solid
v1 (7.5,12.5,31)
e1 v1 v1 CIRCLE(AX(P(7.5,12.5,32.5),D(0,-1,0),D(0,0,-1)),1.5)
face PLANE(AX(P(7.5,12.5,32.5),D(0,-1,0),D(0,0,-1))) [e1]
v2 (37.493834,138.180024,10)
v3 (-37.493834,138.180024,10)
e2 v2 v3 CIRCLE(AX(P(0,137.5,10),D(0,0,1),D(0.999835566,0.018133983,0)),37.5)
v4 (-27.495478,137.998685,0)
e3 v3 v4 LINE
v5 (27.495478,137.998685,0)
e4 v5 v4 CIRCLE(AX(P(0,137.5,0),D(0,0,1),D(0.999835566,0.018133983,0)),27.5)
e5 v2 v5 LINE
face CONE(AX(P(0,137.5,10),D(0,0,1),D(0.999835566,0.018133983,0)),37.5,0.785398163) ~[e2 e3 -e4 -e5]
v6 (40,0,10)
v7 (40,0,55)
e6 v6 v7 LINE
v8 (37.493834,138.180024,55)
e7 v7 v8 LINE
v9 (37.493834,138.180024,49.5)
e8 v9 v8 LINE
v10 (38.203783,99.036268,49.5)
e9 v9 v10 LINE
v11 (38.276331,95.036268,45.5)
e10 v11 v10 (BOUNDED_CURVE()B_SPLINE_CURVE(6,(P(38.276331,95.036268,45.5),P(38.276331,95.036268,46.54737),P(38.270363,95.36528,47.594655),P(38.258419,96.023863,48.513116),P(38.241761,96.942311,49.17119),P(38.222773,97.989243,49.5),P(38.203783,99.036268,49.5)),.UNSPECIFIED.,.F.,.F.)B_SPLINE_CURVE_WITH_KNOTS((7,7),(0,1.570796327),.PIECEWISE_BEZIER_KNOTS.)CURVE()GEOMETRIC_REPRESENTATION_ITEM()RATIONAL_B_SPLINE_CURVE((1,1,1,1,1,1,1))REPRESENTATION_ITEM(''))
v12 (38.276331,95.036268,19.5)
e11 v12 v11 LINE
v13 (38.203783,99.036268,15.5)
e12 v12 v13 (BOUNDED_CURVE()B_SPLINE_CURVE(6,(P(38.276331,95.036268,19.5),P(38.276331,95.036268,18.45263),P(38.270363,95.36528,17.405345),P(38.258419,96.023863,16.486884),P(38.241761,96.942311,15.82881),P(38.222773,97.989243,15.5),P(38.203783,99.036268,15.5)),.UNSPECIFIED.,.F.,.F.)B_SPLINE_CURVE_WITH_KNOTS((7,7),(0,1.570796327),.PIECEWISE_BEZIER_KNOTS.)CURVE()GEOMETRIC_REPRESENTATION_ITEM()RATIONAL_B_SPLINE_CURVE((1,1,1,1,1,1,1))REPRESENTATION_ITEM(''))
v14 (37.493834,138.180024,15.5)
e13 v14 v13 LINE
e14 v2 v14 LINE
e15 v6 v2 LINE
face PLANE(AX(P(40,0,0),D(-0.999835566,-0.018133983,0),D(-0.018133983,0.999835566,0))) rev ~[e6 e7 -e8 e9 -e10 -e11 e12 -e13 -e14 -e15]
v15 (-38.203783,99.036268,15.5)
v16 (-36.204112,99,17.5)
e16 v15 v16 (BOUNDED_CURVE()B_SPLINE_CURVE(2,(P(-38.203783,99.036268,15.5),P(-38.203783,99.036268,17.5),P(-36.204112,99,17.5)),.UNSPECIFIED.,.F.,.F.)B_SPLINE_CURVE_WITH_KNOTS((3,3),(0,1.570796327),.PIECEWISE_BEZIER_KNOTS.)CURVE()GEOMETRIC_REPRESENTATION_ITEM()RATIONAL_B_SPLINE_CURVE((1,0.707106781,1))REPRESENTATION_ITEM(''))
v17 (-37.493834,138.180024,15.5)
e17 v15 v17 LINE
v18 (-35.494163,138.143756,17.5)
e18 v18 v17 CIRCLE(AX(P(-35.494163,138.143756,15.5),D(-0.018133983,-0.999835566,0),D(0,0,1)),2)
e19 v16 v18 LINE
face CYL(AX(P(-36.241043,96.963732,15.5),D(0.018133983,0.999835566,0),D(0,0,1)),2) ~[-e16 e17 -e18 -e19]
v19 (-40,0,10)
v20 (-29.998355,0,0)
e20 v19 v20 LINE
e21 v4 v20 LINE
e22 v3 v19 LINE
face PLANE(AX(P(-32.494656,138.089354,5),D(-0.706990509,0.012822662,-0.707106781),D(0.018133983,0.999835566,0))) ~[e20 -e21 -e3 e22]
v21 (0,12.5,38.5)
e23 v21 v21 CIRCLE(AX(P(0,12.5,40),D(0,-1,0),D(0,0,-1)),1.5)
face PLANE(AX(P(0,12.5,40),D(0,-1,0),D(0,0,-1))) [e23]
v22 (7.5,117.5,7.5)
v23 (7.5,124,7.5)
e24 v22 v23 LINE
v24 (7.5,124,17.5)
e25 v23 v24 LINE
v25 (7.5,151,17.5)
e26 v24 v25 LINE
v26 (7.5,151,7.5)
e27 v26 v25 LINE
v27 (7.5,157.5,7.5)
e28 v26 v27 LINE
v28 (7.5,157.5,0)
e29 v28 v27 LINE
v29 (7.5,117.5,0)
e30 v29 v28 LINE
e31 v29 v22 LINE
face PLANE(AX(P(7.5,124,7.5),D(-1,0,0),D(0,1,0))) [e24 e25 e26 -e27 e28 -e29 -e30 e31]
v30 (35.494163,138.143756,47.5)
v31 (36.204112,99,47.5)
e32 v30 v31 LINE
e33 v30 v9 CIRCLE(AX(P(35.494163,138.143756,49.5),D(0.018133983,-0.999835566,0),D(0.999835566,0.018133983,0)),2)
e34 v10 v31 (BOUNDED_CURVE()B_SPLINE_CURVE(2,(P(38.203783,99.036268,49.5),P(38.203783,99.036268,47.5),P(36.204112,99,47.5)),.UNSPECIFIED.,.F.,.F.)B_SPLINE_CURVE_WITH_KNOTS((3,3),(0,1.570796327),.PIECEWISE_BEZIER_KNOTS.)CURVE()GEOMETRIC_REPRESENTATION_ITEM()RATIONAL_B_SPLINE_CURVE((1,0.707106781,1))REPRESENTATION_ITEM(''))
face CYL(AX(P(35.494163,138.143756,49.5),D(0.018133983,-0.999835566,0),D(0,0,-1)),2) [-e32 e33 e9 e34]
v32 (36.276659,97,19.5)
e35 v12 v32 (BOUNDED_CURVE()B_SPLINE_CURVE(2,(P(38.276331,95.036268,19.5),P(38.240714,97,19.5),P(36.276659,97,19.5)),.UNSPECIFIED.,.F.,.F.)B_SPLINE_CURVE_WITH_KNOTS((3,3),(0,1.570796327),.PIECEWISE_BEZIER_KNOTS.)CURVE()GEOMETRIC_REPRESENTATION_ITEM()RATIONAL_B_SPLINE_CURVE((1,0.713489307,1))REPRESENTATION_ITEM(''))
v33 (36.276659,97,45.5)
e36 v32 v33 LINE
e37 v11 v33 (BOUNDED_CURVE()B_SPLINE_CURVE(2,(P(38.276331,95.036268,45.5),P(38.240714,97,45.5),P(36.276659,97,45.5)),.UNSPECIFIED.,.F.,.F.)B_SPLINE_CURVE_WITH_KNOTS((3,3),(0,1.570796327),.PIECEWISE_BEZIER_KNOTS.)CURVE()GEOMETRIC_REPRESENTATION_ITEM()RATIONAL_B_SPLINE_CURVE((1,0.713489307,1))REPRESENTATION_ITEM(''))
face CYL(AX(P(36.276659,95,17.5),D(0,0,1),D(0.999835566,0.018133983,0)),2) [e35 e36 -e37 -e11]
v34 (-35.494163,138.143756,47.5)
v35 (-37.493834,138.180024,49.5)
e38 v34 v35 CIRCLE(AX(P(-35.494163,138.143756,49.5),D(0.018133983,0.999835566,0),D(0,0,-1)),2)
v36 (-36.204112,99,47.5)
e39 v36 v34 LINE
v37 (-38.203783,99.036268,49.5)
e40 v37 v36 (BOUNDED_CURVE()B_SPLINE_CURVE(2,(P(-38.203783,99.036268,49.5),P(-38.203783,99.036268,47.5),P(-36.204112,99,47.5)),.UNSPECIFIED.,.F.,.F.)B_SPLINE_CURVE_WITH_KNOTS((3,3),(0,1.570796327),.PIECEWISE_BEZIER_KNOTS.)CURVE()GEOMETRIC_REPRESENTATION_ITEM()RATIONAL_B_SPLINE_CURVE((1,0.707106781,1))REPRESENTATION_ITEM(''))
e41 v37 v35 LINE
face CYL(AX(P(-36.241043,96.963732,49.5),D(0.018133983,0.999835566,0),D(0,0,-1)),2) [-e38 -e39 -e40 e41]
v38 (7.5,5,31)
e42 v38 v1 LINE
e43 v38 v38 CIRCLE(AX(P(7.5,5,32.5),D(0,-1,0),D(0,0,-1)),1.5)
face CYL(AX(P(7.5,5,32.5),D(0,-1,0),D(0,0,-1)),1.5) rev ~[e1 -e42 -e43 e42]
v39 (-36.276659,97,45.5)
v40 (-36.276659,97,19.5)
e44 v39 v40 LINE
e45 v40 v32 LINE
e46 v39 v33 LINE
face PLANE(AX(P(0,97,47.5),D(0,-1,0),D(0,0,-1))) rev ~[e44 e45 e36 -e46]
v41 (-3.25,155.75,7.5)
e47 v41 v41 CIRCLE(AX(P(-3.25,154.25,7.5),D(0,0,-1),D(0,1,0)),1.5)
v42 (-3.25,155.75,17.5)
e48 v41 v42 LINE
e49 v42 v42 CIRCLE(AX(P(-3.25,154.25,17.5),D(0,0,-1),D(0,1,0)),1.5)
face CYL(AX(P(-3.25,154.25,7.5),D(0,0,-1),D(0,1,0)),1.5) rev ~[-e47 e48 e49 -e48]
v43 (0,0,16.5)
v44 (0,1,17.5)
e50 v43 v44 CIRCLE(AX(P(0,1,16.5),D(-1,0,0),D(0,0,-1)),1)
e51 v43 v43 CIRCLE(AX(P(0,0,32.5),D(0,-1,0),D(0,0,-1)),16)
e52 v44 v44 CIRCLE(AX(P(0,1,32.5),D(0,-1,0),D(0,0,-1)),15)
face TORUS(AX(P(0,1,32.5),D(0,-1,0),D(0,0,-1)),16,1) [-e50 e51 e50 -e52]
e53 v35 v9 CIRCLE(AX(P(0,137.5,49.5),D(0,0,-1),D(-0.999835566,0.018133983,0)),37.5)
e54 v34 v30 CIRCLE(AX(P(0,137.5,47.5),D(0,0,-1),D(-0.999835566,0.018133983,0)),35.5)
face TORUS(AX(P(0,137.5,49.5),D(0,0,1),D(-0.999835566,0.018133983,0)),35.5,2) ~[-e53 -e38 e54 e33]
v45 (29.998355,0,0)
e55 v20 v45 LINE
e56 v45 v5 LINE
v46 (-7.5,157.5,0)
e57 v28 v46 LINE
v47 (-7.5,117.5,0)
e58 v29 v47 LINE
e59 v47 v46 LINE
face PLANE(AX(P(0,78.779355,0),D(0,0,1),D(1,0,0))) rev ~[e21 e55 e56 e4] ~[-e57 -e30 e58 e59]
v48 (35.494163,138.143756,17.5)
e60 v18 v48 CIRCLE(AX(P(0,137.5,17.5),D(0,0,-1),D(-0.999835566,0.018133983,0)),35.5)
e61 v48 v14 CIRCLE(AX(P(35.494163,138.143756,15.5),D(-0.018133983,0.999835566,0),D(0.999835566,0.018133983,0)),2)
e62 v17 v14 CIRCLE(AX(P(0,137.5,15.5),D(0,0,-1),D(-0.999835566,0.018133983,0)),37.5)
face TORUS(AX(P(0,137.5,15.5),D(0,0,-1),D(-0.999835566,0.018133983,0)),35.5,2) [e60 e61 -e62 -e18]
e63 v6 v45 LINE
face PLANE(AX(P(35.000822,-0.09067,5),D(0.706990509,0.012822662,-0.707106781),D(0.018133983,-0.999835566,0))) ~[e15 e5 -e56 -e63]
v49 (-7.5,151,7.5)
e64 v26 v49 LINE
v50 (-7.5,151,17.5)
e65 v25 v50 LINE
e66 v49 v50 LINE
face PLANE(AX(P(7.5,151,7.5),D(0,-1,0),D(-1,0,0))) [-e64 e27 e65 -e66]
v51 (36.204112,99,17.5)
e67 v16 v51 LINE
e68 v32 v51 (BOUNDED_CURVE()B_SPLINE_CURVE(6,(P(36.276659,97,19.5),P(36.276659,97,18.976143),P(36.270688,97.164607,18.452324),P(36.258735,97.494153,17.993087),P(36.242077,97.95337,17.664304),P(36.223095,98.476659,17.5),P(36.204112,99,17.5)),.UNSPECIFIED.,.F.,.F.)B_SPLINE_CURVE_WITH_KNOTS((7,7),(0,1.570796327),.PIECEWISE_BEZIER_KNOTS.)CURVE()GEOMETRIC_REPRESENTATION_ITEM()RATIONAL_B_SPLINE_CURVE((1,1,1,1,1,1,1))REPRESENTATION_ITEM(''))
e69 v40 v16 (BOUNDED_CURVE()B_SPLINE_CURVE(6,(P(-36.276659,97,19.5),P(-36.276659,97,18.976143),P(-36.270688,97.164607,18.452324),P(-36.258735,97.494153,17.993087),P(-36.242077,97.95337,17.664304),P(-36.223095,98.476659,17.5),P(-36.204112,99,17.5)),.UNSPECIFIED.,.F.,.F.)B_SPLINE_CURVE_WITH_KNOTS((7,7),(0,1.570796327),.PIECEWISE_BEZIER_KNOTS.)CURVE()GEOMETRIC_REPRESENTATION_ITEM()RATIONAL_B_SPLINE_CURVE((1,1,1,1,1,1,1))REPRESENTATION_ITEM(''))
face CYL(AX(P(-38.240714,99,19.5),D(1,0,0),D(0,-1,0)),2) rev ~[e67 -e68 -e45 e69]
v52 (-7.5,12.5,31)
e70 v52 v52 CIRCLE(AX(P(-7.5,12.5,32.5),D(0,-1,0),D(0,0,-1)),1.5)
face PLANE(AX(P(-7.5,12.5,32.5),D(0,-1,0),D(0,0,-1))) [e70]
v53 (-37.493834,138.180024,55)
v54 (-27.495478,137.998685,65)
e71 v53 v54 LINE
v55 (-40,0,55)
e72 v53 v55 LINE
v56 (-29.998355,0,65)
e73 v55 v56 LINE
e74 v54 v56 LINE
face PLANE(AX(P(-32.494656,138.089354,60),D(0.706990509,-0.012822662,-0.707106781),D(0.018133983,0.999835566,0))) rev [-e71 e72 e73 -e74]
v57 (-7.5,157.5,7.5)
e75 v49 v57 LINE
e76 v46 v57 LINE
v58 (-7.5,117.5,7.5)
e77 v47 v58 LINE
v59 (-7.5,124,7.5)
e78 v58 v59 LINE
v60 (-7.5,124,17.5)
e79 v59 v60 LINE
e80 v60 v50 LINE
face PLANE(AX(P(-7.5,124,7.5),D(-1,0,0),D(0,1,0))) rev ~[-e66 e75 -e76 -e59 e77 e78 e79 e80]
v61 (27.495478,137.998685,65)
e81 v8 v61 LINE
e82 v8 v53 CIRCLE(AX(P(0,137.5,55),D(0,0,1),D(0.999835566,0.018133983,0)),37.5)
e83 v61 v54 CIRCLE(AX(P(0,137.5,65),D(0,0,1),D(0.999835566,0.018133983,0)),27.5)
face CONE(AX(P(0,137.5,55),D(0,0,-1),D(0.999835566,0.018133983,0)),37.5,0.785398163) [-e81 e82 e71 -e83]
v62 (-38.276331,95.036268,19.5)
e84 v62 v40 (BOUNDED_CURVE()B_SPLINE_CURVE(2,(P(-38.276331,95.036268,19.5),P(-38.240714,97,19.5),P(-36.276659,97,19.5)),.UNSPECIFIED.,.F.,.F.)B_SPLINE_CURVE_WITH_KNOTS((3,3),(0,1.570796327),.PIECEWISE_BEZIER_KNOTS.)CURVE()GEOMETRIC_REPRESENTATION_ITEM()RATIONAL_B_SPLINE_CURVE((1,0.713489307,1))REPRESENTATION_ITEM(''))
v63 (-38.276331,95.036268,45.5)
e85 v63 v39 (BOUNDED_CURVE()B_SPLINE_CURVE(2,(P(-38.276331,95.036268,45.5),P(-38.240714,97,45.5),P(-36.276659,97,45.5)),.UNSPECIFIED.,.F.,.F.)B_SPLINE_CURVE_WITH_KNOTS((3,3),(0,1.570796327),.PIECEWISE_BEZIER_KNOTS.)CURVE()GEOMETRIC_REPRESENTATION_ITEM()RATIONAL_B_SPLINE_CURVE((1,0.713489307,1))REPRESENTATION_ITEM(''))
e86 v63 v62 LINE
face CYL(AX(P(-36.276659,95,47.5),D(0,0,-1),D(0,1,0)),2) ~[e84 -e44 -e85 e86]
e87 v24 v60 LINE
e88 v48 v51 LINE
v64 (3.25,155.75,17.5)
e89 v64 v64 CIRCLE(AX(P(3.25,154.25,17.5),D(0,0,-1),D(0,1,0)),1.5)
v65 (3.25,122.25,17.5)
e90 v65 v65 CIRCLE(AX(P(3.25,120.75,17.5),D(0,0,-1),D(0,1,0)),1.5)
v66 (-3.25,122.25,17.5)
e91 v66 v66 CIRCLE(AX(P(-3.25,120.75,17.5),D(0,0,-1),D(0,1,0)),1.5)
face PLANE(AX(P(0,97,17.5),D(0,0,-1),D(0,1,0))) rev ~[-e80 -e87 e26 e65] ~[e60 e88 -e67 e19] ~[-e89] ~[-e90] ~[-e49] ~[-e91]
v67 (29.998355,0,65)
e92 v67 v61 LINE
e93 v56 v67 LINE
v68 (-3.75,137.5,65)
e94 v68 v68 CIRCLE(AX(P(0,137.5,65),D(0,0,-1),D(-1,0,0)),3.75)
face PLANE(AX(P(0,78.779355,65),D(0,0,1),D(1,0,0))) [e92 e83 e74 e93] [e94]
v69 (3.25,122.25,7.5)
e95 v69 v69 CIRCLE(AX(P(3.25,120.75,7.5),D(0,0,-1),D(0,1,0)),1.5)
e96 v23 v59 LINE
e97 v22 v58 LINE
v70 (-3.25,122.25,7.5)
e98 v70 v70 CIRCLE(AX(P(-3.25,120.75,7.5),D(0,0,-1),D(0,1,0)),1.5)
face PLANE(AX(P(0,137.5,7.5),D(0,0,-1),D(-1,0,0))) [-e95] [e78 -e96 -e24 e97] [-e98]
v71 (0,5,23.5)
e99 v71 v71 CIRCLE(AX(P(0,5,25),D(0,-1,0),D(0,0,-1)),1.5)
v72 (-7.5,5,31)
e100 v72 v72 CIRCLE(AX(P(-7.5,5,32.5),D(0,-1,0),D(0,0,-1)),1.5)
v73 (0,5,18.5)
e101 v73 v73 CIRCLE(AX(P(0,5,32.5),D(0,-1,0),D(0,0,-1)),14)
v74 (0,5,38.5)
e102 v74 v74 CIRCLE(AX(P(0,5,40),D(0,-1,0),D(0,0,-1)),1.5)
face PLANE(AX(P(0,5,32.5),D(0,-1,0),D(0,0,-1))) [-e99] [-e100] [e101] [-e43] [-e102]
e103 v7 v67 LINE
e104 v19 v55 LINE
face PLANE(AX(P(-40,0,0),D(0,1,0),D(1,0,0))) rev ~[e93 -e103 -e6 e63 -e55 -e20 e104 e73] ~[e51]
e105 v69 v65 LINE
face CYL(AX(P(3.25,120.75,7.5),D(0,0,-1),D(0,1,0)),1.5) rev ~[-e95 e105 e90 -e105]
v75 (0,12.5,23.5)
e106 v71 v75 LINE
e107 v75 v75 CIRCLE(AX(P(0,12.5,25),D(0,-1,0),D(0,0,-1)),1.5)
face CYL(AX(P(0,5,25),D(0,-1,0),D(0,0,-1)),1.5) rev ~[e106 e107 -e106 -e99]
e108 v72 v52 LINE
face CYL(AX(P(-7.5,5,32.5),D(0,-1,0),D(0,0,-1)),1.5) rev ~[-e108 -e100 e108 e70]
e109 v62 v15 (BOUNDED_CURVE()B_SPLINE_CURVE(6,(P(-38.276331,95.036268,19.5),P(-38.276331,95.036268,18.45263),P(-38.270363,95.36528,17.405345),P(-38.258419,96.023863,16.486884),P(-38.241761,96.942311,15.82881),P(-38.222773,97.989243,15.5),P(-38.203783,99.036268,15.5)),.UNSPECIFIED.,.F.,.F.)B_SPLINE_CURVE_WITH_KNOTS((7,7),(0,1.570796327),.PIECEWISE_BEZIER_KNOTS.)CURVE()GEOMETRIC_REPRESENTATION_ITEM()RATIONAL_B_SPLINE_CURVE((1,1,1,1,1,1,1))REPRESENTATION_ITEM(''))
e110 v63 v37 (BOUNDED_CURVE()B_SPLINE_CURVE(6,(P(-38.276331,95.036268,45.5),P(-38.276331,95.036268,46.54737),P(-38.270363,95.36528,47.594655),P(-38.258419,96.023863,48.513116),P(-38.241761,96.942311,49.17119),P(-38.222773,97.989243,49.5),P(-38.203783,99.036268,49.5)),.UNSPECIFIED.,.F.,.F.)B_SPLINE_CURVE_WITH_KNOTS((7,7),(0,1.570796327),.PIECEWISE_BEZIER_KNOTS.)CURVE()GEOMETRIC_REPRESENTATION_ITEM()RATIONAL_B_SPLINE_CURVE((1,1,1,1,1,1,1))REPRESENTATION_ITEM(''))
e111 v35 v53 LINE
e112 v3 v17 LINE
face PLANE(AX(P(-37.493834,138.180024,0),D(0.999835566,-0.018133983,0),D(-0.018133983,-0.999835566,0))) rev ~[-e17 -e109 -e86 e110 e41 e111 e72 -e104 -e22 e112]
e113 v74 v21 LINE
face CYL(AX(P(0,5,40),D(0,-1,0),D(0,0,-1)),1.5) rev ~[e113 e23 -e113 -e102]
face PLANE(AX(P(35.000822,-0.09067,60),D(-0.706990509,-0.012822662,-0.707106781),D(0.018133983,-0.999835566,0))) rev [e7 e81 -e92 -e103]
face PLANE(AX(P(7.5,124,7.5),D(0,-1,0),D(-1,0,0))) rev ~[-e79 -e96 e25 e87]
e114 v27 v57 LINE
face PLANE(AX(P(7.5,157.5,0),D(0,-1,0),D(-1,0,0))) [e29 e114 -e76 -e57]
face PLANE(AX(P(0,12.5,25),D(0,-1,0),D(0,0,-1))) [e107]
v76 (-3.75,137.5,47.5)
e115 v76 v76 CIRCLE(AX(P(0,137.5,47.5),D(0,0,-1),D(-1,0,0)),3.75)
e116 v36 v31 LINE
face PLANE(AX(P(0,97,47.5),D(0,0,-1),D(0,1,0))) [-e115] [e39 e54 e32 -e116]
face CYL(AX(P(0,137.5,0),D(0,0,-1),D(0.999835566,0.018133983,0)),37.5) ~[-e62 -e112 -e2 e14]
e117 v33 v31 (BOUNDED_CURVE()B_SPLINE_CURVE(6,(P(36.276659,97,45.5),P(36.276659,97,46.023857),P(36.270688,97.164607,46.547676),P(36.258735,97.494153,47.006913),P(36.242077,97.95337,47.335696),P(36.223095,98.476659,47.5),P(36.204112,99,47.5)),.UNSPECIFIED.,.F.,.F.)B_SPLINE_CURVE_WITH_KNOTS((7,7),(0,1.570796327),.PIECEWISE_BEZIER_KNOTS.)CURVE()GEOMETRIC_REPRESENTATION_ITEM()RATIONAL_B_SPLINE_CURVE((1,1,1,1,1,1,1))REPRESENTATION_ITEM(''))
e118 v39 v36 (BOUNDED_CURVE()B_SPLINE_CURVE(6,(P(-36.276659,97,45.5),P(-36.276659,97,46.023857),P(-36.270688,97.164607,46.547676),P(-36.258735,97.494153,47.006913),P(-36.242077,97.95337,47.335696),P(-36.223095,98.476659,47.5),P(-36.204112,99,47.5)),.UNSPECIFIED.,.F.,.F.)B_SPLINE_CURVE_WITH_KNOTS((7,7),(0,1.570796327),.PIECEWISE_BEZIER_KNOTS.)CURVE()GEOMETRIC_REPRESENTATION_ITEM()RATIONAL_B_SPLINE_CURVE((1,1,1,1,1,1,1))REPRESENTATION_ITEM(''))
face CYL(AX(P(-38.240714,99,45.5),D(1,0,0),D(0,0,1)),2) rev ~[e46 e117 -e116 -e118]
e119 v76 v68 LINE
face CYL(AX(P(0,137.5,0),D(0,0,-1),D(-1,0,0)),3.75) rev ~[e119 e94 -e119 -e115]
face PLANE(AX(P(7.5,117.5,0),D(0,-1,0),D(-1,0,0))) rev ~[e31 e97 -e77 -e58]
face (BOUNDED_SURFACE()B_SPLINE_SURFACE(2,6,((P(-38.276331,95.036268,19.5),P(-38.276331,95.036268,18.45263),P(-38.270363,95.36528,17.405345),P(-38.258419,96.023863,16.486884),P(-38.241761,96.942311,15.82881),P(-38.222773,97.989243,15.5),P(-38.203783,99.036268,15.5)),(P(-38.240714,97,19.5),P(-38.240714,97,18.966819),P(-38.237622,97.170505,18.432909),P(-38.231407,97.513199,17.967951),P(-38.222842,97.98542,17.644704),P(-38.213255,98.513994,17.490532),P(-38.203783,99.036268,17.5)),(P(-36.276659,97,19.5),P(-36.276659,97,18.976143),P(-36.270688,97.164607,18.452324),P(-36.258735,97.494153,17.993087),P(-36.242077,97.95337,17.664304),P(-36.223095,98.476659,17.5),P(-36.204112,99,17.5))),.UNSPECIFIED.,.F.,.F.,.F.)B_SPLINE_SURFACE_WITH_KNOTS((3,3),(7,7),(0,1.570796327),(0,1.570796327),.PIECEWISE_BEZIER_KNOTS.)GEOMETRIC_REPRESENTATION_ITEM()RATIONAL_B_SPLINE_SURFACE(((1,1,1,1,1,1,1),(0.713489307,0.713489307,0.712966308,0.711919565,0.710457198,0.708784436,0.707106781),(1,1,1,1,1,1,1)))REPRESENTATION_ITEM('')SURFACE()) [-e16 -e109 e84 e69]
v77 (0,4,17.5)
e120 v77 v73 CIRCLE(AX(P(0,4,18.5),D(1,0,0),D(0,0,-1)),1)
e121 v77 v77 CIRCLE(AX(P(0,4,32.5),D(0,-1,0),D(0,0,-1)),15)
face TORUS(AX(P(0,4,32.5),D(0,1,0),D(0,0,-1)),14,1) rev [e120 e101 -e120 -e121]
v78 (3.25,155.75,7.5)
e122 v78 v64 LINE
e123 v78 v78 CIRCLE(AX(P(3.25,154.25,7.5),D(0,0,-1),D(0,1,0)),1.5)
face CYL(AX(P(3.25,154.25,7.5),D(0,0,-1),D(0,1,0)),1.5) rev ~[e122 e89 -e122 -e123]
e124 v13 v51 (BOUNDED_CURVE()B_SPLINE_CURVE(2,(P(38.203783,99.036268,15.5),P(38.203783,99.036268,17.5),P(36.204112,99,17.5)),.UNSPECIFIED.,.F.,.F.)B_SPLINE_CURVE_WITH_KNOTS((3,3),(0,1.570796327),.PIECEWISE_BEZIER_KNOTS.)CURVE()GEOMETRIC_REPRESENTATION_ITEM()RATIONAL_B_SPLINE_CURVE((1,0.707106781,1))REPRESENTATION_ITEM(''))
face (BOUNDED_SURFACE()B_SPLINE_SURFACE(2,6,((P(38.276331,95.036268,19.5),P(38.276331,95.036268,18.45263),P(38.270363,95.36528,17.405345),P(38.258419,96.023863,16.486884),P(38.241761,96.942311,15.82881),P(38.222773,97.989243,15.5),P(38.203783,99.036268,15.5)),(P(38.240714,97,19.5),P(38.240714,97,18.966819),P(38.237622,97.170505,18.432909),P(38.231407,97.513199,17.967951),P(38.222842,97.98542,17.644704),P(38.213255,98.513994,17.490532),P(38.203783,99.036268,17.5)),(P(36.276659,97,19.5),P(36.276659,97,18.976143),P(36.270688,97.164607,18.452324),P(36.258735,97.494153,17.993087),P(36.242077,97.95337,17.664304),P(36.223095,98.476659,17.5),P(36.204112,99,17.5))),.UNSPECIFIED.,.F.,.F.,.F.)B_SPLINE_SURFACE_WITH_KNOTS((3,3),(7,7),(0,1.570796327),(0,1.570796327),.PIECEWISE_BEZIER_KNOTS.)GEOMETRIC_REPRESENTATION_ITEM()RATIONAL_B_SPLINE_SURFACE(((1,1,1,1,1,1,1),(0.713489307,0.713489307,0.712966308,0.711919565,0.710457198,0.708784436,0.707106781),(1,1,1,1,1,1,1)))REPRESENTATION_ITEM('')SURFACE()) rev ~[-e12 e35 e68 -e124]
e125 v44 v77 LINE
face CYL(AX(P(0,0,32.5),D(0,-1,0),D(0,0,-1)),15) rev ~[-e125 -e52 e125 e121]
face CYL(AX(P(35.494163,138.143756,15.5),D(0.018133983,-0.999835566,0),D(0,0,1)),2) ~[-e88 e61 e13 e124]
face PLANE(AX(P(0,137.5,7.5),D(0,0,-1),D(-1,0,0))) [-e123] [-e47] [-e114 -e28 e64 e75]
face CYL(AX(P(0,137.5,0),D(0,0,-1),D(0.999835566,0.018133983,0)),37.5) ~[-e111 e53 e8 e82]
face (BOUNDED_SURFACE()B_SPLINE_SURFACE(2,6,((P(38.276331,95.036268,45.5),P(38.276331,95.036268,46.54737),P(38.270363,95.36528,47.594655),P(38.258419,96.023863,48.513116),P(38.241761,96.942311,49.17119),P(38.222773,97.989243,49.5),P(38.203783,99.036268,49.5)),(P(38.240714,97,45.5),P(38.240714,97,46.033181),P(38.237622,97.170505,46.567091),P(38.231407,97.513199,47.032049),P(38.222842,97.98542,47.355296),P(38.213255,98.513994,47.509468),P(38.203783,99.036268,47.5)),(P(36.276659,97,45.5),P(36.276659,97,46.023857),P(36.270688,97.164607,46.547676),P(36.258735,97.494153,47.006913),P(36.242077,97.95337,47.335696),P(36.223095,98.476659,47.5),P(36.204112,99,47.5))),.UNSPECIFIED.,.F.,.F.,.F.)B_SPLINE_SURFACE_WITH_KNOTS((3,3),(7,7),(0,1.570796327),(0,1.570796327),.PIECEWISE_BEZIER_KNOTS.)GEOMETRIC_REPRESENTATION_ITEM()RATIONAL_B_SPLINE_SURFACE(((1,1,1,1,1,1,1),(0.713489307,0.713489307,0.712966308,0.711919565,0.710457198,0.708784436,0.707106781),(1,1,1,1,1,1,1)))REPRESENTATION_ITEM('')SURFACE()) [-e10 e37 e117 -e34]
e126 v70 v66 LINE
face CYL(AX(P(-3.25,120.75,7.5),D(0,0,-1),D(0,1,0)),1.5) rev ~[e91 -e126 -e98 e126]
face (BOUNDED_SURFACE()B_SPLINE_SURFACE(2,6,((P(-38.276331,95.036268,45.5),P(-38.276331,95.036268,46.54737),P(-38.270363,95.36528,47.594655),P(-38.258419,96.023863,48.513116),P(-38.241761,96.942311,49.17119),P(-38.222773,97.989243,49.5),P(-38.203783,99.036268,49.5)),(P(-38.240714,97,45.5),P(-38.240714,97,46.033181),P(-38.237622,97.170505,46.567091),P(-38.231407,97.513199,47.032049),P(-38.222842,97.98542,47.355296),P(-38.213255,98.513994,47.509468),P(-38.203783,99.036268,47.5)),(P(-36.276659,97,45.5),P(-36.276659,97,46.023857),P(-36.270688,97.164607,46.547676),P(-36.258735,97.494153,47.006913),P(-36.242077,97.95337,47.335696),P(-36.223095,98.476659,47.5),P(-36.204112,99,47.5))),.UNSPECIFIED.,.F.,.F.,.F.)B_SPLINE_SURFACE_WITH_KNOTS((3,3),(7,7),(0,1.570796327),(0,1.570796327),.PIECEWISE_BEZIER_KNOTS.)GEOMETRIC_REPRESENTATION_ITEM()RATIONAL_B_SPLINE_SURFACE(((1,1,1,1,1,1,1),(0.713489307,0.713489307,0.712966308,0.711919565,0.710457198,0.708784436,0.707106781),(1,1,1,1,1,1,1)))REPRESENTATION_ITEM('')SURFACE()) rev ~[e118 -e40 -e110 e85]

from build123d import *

# Parameters (mm, degrees)
BOSS_EXTRUDE1_DEPTH = 65
CHAMFER1_SIZE       = 10
SKETCH2_R           = 15
CUT_EXTRUDE1_DEPTH  = 5
SKETCH4_R           = 1.5
CUT_EXTRUDE2_DEPTH  = 7.5
FILLET1_R           = 1
SKETCH5_W           = 30
SKETCH5_H           = 78
CUT_EXTRUDE3_DEPTH  = 44.75
FILLET2_R           = 2
SKETCH6_W           = 15
SKETCH6_H           = 40
CUT_EXTRUDE4_DEPTH  = 7.5
SKETCH7_W           = 15
SKETCH7_H           = 27
SKETCH7_R           = 1.5
CUT_EXTRUDE5_DEPTH  = 10
SKETCH8_R           = 3.75
CUT_EXTRUDE6_DEPTH  = 191.918831033


with BuildPart() as part:
    # Sketch1 → Boss-Extrude1 (new body)
    with BuildSketch(Plane.XY):
        with BuildLine():
            Line((-40, 0), (40, 0))
            Line((40, 0), (37.493833718, 138.180024354))
            ThreePointArc((37.493833718, 138.180024354), (0, 175), (-37.493833718, 138.180024354))
            Line((-37.493833718, 138.180024354), (-40, 0))
        make_face()
    extrude(amount=BOSS_EXTRUDE1_DEPTH)

    # Chamfer1
    chamfer1_edges = [part.edges().sort_by_distance(p)[0] for p in [
        (-38.746916859, 69.090012177, 65),
        (38.746916859, 69.090012177, 65),
        (-38.746916859, 69.090012177, 0),
        (0, 175, 0),
        (38.746916859, 69.090012177, 0),
        (0, 175, 65),
    ]]
    chamfer(chamfer1_edges, length=CHAMFER1_SIZE)

    # Sketch2 → Cut-Extrude1 (cut)
    with BuildSketch(Plane(origin=(0, 0, 0), x_dir=(-1, 0, 0), z_dir=(0, -1, 0))):
        with Locations(Location((0, -32.5, 0), (0, 0, 90))):
            Circle(SKETCH2_R)
    extrude(amount=-CUT_EXTRUDE1_DEPTH, mode=Mode.SUBTRACT)

    # Sketch4 → Cut-Extrude2 (cut)
    with BuildSketch(Plane.XZ.offset(-5)):
        with Locations(Location((0, 40, 0), (0, 0, 270))):
            Circle(SKETCH4_R)
        with Locations(Location((7.5, 32.5, 0), (0, 0, 270))):
            Circle(SKETCH4_R)
        with Locations(Location((0, 25, 0), (0, 0, 270))):
            Circle(SKETCH4_R)
        with Locations(Location((-7.5, 32.5, 0), (0, 0, 270))):
            Circle(SKETCH4_R)
    extrude(amount=-CUT_EXTRUDE2_DEPTH, mode=Mode.SUBTRACT)

    # Fillet1
    fillet1_edges = [part.edges().sort_by_distance(p)[0] for p in [
        (0, 5, 47.5),
        (0, 0, 47.5),
    ]]
    fillet(fillet1_edges, radius=FILLET1_R)

    # Sketch5 → Cut-Extrude3 (cut, symmetric)
    with BuildSketch(Plane(origin=(0, 0, 0), x_dir=(0, 0, -1), z_dir=(1, 0, 0))):
        with Locations((-32.5, 136)):
            Rectangle(SKETCH5_W, SKETCH5_H)
    extrude(amount=CUT_EXTRUDE3_DEPTH, both=True, mode=Mode.SUBTRACT)

    # Fillet2
    fillet2_edges = [part.edges().sort_by_distance(p)[0] for p in [
        (-38.240714383, 97, 32.5),
        (-37.867274051, 117.590012177, 47.5),
        (-37.867274051, 117.590012177, 17.5),
        (0, 97, 17.5),
        (37.867274051, 117.590012177, 17.5),
        (0, 175, 17.5),
        (0, 175, 47.5),
        (37.867274051, 117.590012177, 47.5),
        (0, 97, 47.5),
        (38.240714383, 97, 32.5),
    ]]
    fillet(fillet2_edges, radius=FILLET2_R)

    # Sketch6 → Cut-Extrude4 (cut)
    with BuildSketch(Plane(origin=(0, 0, 0), x_dir=(-1, 0, 0), z_dir=(0, 0, -1))):
        with Locations((0, 137.5)):
            Rectangle(SKETCH6_W, SKETCH6_H)
    extrude(amount=-CUT_EXTRUDE4_DEPTH, mode=Mode.SUBTRACT)

    # Sketch7 → Cut-Extrude5 (cut)
    with BuildSketch(Plane(origin=(0, 0, 7.5), x_dir=(-1, 0, 0), z_dir=(0, 0, -1))):
        with Locations((0, 137.5)):
            Rectangle(SKETCH7_W, SKETCH7_H)
        with Locations(Location((-3.25, 154.25, 0), (0, 0, 90))):
            Circle(SKETCH7_R)
        with Locations(Location((3.25, 154.25, 0), (0, 0, 90))):
            Circle(SKETCH7_R)
        with Locations(Location((-3.25, 120.75, 0), (0, 0, 90))):
            Circle(SKETCH7_R)
        with Locations(Location((3.25, 120.75, 0), (0, 0, 90))):
            Circle(SKETCH7_R)
    extrude(amount=-CUT_EXTRUDE5_DEPTH, mode=Mode.SUBTRACT)

    # Sketch8 → Cut-Extrude6 (cut, through all)
    with BuildSketch(Plane(origin=(0, 0, 0), x_dir=(-1, 0, 0), z_dir=(0, 0, -1))):
        with Locations((0, 137.5)):
            Circle(SKETCH8_R)
    extrude(amount=-CUT_EXTRUDE6_DEPTH, mode=Mode.SUBTRACT)


solid = part.part
